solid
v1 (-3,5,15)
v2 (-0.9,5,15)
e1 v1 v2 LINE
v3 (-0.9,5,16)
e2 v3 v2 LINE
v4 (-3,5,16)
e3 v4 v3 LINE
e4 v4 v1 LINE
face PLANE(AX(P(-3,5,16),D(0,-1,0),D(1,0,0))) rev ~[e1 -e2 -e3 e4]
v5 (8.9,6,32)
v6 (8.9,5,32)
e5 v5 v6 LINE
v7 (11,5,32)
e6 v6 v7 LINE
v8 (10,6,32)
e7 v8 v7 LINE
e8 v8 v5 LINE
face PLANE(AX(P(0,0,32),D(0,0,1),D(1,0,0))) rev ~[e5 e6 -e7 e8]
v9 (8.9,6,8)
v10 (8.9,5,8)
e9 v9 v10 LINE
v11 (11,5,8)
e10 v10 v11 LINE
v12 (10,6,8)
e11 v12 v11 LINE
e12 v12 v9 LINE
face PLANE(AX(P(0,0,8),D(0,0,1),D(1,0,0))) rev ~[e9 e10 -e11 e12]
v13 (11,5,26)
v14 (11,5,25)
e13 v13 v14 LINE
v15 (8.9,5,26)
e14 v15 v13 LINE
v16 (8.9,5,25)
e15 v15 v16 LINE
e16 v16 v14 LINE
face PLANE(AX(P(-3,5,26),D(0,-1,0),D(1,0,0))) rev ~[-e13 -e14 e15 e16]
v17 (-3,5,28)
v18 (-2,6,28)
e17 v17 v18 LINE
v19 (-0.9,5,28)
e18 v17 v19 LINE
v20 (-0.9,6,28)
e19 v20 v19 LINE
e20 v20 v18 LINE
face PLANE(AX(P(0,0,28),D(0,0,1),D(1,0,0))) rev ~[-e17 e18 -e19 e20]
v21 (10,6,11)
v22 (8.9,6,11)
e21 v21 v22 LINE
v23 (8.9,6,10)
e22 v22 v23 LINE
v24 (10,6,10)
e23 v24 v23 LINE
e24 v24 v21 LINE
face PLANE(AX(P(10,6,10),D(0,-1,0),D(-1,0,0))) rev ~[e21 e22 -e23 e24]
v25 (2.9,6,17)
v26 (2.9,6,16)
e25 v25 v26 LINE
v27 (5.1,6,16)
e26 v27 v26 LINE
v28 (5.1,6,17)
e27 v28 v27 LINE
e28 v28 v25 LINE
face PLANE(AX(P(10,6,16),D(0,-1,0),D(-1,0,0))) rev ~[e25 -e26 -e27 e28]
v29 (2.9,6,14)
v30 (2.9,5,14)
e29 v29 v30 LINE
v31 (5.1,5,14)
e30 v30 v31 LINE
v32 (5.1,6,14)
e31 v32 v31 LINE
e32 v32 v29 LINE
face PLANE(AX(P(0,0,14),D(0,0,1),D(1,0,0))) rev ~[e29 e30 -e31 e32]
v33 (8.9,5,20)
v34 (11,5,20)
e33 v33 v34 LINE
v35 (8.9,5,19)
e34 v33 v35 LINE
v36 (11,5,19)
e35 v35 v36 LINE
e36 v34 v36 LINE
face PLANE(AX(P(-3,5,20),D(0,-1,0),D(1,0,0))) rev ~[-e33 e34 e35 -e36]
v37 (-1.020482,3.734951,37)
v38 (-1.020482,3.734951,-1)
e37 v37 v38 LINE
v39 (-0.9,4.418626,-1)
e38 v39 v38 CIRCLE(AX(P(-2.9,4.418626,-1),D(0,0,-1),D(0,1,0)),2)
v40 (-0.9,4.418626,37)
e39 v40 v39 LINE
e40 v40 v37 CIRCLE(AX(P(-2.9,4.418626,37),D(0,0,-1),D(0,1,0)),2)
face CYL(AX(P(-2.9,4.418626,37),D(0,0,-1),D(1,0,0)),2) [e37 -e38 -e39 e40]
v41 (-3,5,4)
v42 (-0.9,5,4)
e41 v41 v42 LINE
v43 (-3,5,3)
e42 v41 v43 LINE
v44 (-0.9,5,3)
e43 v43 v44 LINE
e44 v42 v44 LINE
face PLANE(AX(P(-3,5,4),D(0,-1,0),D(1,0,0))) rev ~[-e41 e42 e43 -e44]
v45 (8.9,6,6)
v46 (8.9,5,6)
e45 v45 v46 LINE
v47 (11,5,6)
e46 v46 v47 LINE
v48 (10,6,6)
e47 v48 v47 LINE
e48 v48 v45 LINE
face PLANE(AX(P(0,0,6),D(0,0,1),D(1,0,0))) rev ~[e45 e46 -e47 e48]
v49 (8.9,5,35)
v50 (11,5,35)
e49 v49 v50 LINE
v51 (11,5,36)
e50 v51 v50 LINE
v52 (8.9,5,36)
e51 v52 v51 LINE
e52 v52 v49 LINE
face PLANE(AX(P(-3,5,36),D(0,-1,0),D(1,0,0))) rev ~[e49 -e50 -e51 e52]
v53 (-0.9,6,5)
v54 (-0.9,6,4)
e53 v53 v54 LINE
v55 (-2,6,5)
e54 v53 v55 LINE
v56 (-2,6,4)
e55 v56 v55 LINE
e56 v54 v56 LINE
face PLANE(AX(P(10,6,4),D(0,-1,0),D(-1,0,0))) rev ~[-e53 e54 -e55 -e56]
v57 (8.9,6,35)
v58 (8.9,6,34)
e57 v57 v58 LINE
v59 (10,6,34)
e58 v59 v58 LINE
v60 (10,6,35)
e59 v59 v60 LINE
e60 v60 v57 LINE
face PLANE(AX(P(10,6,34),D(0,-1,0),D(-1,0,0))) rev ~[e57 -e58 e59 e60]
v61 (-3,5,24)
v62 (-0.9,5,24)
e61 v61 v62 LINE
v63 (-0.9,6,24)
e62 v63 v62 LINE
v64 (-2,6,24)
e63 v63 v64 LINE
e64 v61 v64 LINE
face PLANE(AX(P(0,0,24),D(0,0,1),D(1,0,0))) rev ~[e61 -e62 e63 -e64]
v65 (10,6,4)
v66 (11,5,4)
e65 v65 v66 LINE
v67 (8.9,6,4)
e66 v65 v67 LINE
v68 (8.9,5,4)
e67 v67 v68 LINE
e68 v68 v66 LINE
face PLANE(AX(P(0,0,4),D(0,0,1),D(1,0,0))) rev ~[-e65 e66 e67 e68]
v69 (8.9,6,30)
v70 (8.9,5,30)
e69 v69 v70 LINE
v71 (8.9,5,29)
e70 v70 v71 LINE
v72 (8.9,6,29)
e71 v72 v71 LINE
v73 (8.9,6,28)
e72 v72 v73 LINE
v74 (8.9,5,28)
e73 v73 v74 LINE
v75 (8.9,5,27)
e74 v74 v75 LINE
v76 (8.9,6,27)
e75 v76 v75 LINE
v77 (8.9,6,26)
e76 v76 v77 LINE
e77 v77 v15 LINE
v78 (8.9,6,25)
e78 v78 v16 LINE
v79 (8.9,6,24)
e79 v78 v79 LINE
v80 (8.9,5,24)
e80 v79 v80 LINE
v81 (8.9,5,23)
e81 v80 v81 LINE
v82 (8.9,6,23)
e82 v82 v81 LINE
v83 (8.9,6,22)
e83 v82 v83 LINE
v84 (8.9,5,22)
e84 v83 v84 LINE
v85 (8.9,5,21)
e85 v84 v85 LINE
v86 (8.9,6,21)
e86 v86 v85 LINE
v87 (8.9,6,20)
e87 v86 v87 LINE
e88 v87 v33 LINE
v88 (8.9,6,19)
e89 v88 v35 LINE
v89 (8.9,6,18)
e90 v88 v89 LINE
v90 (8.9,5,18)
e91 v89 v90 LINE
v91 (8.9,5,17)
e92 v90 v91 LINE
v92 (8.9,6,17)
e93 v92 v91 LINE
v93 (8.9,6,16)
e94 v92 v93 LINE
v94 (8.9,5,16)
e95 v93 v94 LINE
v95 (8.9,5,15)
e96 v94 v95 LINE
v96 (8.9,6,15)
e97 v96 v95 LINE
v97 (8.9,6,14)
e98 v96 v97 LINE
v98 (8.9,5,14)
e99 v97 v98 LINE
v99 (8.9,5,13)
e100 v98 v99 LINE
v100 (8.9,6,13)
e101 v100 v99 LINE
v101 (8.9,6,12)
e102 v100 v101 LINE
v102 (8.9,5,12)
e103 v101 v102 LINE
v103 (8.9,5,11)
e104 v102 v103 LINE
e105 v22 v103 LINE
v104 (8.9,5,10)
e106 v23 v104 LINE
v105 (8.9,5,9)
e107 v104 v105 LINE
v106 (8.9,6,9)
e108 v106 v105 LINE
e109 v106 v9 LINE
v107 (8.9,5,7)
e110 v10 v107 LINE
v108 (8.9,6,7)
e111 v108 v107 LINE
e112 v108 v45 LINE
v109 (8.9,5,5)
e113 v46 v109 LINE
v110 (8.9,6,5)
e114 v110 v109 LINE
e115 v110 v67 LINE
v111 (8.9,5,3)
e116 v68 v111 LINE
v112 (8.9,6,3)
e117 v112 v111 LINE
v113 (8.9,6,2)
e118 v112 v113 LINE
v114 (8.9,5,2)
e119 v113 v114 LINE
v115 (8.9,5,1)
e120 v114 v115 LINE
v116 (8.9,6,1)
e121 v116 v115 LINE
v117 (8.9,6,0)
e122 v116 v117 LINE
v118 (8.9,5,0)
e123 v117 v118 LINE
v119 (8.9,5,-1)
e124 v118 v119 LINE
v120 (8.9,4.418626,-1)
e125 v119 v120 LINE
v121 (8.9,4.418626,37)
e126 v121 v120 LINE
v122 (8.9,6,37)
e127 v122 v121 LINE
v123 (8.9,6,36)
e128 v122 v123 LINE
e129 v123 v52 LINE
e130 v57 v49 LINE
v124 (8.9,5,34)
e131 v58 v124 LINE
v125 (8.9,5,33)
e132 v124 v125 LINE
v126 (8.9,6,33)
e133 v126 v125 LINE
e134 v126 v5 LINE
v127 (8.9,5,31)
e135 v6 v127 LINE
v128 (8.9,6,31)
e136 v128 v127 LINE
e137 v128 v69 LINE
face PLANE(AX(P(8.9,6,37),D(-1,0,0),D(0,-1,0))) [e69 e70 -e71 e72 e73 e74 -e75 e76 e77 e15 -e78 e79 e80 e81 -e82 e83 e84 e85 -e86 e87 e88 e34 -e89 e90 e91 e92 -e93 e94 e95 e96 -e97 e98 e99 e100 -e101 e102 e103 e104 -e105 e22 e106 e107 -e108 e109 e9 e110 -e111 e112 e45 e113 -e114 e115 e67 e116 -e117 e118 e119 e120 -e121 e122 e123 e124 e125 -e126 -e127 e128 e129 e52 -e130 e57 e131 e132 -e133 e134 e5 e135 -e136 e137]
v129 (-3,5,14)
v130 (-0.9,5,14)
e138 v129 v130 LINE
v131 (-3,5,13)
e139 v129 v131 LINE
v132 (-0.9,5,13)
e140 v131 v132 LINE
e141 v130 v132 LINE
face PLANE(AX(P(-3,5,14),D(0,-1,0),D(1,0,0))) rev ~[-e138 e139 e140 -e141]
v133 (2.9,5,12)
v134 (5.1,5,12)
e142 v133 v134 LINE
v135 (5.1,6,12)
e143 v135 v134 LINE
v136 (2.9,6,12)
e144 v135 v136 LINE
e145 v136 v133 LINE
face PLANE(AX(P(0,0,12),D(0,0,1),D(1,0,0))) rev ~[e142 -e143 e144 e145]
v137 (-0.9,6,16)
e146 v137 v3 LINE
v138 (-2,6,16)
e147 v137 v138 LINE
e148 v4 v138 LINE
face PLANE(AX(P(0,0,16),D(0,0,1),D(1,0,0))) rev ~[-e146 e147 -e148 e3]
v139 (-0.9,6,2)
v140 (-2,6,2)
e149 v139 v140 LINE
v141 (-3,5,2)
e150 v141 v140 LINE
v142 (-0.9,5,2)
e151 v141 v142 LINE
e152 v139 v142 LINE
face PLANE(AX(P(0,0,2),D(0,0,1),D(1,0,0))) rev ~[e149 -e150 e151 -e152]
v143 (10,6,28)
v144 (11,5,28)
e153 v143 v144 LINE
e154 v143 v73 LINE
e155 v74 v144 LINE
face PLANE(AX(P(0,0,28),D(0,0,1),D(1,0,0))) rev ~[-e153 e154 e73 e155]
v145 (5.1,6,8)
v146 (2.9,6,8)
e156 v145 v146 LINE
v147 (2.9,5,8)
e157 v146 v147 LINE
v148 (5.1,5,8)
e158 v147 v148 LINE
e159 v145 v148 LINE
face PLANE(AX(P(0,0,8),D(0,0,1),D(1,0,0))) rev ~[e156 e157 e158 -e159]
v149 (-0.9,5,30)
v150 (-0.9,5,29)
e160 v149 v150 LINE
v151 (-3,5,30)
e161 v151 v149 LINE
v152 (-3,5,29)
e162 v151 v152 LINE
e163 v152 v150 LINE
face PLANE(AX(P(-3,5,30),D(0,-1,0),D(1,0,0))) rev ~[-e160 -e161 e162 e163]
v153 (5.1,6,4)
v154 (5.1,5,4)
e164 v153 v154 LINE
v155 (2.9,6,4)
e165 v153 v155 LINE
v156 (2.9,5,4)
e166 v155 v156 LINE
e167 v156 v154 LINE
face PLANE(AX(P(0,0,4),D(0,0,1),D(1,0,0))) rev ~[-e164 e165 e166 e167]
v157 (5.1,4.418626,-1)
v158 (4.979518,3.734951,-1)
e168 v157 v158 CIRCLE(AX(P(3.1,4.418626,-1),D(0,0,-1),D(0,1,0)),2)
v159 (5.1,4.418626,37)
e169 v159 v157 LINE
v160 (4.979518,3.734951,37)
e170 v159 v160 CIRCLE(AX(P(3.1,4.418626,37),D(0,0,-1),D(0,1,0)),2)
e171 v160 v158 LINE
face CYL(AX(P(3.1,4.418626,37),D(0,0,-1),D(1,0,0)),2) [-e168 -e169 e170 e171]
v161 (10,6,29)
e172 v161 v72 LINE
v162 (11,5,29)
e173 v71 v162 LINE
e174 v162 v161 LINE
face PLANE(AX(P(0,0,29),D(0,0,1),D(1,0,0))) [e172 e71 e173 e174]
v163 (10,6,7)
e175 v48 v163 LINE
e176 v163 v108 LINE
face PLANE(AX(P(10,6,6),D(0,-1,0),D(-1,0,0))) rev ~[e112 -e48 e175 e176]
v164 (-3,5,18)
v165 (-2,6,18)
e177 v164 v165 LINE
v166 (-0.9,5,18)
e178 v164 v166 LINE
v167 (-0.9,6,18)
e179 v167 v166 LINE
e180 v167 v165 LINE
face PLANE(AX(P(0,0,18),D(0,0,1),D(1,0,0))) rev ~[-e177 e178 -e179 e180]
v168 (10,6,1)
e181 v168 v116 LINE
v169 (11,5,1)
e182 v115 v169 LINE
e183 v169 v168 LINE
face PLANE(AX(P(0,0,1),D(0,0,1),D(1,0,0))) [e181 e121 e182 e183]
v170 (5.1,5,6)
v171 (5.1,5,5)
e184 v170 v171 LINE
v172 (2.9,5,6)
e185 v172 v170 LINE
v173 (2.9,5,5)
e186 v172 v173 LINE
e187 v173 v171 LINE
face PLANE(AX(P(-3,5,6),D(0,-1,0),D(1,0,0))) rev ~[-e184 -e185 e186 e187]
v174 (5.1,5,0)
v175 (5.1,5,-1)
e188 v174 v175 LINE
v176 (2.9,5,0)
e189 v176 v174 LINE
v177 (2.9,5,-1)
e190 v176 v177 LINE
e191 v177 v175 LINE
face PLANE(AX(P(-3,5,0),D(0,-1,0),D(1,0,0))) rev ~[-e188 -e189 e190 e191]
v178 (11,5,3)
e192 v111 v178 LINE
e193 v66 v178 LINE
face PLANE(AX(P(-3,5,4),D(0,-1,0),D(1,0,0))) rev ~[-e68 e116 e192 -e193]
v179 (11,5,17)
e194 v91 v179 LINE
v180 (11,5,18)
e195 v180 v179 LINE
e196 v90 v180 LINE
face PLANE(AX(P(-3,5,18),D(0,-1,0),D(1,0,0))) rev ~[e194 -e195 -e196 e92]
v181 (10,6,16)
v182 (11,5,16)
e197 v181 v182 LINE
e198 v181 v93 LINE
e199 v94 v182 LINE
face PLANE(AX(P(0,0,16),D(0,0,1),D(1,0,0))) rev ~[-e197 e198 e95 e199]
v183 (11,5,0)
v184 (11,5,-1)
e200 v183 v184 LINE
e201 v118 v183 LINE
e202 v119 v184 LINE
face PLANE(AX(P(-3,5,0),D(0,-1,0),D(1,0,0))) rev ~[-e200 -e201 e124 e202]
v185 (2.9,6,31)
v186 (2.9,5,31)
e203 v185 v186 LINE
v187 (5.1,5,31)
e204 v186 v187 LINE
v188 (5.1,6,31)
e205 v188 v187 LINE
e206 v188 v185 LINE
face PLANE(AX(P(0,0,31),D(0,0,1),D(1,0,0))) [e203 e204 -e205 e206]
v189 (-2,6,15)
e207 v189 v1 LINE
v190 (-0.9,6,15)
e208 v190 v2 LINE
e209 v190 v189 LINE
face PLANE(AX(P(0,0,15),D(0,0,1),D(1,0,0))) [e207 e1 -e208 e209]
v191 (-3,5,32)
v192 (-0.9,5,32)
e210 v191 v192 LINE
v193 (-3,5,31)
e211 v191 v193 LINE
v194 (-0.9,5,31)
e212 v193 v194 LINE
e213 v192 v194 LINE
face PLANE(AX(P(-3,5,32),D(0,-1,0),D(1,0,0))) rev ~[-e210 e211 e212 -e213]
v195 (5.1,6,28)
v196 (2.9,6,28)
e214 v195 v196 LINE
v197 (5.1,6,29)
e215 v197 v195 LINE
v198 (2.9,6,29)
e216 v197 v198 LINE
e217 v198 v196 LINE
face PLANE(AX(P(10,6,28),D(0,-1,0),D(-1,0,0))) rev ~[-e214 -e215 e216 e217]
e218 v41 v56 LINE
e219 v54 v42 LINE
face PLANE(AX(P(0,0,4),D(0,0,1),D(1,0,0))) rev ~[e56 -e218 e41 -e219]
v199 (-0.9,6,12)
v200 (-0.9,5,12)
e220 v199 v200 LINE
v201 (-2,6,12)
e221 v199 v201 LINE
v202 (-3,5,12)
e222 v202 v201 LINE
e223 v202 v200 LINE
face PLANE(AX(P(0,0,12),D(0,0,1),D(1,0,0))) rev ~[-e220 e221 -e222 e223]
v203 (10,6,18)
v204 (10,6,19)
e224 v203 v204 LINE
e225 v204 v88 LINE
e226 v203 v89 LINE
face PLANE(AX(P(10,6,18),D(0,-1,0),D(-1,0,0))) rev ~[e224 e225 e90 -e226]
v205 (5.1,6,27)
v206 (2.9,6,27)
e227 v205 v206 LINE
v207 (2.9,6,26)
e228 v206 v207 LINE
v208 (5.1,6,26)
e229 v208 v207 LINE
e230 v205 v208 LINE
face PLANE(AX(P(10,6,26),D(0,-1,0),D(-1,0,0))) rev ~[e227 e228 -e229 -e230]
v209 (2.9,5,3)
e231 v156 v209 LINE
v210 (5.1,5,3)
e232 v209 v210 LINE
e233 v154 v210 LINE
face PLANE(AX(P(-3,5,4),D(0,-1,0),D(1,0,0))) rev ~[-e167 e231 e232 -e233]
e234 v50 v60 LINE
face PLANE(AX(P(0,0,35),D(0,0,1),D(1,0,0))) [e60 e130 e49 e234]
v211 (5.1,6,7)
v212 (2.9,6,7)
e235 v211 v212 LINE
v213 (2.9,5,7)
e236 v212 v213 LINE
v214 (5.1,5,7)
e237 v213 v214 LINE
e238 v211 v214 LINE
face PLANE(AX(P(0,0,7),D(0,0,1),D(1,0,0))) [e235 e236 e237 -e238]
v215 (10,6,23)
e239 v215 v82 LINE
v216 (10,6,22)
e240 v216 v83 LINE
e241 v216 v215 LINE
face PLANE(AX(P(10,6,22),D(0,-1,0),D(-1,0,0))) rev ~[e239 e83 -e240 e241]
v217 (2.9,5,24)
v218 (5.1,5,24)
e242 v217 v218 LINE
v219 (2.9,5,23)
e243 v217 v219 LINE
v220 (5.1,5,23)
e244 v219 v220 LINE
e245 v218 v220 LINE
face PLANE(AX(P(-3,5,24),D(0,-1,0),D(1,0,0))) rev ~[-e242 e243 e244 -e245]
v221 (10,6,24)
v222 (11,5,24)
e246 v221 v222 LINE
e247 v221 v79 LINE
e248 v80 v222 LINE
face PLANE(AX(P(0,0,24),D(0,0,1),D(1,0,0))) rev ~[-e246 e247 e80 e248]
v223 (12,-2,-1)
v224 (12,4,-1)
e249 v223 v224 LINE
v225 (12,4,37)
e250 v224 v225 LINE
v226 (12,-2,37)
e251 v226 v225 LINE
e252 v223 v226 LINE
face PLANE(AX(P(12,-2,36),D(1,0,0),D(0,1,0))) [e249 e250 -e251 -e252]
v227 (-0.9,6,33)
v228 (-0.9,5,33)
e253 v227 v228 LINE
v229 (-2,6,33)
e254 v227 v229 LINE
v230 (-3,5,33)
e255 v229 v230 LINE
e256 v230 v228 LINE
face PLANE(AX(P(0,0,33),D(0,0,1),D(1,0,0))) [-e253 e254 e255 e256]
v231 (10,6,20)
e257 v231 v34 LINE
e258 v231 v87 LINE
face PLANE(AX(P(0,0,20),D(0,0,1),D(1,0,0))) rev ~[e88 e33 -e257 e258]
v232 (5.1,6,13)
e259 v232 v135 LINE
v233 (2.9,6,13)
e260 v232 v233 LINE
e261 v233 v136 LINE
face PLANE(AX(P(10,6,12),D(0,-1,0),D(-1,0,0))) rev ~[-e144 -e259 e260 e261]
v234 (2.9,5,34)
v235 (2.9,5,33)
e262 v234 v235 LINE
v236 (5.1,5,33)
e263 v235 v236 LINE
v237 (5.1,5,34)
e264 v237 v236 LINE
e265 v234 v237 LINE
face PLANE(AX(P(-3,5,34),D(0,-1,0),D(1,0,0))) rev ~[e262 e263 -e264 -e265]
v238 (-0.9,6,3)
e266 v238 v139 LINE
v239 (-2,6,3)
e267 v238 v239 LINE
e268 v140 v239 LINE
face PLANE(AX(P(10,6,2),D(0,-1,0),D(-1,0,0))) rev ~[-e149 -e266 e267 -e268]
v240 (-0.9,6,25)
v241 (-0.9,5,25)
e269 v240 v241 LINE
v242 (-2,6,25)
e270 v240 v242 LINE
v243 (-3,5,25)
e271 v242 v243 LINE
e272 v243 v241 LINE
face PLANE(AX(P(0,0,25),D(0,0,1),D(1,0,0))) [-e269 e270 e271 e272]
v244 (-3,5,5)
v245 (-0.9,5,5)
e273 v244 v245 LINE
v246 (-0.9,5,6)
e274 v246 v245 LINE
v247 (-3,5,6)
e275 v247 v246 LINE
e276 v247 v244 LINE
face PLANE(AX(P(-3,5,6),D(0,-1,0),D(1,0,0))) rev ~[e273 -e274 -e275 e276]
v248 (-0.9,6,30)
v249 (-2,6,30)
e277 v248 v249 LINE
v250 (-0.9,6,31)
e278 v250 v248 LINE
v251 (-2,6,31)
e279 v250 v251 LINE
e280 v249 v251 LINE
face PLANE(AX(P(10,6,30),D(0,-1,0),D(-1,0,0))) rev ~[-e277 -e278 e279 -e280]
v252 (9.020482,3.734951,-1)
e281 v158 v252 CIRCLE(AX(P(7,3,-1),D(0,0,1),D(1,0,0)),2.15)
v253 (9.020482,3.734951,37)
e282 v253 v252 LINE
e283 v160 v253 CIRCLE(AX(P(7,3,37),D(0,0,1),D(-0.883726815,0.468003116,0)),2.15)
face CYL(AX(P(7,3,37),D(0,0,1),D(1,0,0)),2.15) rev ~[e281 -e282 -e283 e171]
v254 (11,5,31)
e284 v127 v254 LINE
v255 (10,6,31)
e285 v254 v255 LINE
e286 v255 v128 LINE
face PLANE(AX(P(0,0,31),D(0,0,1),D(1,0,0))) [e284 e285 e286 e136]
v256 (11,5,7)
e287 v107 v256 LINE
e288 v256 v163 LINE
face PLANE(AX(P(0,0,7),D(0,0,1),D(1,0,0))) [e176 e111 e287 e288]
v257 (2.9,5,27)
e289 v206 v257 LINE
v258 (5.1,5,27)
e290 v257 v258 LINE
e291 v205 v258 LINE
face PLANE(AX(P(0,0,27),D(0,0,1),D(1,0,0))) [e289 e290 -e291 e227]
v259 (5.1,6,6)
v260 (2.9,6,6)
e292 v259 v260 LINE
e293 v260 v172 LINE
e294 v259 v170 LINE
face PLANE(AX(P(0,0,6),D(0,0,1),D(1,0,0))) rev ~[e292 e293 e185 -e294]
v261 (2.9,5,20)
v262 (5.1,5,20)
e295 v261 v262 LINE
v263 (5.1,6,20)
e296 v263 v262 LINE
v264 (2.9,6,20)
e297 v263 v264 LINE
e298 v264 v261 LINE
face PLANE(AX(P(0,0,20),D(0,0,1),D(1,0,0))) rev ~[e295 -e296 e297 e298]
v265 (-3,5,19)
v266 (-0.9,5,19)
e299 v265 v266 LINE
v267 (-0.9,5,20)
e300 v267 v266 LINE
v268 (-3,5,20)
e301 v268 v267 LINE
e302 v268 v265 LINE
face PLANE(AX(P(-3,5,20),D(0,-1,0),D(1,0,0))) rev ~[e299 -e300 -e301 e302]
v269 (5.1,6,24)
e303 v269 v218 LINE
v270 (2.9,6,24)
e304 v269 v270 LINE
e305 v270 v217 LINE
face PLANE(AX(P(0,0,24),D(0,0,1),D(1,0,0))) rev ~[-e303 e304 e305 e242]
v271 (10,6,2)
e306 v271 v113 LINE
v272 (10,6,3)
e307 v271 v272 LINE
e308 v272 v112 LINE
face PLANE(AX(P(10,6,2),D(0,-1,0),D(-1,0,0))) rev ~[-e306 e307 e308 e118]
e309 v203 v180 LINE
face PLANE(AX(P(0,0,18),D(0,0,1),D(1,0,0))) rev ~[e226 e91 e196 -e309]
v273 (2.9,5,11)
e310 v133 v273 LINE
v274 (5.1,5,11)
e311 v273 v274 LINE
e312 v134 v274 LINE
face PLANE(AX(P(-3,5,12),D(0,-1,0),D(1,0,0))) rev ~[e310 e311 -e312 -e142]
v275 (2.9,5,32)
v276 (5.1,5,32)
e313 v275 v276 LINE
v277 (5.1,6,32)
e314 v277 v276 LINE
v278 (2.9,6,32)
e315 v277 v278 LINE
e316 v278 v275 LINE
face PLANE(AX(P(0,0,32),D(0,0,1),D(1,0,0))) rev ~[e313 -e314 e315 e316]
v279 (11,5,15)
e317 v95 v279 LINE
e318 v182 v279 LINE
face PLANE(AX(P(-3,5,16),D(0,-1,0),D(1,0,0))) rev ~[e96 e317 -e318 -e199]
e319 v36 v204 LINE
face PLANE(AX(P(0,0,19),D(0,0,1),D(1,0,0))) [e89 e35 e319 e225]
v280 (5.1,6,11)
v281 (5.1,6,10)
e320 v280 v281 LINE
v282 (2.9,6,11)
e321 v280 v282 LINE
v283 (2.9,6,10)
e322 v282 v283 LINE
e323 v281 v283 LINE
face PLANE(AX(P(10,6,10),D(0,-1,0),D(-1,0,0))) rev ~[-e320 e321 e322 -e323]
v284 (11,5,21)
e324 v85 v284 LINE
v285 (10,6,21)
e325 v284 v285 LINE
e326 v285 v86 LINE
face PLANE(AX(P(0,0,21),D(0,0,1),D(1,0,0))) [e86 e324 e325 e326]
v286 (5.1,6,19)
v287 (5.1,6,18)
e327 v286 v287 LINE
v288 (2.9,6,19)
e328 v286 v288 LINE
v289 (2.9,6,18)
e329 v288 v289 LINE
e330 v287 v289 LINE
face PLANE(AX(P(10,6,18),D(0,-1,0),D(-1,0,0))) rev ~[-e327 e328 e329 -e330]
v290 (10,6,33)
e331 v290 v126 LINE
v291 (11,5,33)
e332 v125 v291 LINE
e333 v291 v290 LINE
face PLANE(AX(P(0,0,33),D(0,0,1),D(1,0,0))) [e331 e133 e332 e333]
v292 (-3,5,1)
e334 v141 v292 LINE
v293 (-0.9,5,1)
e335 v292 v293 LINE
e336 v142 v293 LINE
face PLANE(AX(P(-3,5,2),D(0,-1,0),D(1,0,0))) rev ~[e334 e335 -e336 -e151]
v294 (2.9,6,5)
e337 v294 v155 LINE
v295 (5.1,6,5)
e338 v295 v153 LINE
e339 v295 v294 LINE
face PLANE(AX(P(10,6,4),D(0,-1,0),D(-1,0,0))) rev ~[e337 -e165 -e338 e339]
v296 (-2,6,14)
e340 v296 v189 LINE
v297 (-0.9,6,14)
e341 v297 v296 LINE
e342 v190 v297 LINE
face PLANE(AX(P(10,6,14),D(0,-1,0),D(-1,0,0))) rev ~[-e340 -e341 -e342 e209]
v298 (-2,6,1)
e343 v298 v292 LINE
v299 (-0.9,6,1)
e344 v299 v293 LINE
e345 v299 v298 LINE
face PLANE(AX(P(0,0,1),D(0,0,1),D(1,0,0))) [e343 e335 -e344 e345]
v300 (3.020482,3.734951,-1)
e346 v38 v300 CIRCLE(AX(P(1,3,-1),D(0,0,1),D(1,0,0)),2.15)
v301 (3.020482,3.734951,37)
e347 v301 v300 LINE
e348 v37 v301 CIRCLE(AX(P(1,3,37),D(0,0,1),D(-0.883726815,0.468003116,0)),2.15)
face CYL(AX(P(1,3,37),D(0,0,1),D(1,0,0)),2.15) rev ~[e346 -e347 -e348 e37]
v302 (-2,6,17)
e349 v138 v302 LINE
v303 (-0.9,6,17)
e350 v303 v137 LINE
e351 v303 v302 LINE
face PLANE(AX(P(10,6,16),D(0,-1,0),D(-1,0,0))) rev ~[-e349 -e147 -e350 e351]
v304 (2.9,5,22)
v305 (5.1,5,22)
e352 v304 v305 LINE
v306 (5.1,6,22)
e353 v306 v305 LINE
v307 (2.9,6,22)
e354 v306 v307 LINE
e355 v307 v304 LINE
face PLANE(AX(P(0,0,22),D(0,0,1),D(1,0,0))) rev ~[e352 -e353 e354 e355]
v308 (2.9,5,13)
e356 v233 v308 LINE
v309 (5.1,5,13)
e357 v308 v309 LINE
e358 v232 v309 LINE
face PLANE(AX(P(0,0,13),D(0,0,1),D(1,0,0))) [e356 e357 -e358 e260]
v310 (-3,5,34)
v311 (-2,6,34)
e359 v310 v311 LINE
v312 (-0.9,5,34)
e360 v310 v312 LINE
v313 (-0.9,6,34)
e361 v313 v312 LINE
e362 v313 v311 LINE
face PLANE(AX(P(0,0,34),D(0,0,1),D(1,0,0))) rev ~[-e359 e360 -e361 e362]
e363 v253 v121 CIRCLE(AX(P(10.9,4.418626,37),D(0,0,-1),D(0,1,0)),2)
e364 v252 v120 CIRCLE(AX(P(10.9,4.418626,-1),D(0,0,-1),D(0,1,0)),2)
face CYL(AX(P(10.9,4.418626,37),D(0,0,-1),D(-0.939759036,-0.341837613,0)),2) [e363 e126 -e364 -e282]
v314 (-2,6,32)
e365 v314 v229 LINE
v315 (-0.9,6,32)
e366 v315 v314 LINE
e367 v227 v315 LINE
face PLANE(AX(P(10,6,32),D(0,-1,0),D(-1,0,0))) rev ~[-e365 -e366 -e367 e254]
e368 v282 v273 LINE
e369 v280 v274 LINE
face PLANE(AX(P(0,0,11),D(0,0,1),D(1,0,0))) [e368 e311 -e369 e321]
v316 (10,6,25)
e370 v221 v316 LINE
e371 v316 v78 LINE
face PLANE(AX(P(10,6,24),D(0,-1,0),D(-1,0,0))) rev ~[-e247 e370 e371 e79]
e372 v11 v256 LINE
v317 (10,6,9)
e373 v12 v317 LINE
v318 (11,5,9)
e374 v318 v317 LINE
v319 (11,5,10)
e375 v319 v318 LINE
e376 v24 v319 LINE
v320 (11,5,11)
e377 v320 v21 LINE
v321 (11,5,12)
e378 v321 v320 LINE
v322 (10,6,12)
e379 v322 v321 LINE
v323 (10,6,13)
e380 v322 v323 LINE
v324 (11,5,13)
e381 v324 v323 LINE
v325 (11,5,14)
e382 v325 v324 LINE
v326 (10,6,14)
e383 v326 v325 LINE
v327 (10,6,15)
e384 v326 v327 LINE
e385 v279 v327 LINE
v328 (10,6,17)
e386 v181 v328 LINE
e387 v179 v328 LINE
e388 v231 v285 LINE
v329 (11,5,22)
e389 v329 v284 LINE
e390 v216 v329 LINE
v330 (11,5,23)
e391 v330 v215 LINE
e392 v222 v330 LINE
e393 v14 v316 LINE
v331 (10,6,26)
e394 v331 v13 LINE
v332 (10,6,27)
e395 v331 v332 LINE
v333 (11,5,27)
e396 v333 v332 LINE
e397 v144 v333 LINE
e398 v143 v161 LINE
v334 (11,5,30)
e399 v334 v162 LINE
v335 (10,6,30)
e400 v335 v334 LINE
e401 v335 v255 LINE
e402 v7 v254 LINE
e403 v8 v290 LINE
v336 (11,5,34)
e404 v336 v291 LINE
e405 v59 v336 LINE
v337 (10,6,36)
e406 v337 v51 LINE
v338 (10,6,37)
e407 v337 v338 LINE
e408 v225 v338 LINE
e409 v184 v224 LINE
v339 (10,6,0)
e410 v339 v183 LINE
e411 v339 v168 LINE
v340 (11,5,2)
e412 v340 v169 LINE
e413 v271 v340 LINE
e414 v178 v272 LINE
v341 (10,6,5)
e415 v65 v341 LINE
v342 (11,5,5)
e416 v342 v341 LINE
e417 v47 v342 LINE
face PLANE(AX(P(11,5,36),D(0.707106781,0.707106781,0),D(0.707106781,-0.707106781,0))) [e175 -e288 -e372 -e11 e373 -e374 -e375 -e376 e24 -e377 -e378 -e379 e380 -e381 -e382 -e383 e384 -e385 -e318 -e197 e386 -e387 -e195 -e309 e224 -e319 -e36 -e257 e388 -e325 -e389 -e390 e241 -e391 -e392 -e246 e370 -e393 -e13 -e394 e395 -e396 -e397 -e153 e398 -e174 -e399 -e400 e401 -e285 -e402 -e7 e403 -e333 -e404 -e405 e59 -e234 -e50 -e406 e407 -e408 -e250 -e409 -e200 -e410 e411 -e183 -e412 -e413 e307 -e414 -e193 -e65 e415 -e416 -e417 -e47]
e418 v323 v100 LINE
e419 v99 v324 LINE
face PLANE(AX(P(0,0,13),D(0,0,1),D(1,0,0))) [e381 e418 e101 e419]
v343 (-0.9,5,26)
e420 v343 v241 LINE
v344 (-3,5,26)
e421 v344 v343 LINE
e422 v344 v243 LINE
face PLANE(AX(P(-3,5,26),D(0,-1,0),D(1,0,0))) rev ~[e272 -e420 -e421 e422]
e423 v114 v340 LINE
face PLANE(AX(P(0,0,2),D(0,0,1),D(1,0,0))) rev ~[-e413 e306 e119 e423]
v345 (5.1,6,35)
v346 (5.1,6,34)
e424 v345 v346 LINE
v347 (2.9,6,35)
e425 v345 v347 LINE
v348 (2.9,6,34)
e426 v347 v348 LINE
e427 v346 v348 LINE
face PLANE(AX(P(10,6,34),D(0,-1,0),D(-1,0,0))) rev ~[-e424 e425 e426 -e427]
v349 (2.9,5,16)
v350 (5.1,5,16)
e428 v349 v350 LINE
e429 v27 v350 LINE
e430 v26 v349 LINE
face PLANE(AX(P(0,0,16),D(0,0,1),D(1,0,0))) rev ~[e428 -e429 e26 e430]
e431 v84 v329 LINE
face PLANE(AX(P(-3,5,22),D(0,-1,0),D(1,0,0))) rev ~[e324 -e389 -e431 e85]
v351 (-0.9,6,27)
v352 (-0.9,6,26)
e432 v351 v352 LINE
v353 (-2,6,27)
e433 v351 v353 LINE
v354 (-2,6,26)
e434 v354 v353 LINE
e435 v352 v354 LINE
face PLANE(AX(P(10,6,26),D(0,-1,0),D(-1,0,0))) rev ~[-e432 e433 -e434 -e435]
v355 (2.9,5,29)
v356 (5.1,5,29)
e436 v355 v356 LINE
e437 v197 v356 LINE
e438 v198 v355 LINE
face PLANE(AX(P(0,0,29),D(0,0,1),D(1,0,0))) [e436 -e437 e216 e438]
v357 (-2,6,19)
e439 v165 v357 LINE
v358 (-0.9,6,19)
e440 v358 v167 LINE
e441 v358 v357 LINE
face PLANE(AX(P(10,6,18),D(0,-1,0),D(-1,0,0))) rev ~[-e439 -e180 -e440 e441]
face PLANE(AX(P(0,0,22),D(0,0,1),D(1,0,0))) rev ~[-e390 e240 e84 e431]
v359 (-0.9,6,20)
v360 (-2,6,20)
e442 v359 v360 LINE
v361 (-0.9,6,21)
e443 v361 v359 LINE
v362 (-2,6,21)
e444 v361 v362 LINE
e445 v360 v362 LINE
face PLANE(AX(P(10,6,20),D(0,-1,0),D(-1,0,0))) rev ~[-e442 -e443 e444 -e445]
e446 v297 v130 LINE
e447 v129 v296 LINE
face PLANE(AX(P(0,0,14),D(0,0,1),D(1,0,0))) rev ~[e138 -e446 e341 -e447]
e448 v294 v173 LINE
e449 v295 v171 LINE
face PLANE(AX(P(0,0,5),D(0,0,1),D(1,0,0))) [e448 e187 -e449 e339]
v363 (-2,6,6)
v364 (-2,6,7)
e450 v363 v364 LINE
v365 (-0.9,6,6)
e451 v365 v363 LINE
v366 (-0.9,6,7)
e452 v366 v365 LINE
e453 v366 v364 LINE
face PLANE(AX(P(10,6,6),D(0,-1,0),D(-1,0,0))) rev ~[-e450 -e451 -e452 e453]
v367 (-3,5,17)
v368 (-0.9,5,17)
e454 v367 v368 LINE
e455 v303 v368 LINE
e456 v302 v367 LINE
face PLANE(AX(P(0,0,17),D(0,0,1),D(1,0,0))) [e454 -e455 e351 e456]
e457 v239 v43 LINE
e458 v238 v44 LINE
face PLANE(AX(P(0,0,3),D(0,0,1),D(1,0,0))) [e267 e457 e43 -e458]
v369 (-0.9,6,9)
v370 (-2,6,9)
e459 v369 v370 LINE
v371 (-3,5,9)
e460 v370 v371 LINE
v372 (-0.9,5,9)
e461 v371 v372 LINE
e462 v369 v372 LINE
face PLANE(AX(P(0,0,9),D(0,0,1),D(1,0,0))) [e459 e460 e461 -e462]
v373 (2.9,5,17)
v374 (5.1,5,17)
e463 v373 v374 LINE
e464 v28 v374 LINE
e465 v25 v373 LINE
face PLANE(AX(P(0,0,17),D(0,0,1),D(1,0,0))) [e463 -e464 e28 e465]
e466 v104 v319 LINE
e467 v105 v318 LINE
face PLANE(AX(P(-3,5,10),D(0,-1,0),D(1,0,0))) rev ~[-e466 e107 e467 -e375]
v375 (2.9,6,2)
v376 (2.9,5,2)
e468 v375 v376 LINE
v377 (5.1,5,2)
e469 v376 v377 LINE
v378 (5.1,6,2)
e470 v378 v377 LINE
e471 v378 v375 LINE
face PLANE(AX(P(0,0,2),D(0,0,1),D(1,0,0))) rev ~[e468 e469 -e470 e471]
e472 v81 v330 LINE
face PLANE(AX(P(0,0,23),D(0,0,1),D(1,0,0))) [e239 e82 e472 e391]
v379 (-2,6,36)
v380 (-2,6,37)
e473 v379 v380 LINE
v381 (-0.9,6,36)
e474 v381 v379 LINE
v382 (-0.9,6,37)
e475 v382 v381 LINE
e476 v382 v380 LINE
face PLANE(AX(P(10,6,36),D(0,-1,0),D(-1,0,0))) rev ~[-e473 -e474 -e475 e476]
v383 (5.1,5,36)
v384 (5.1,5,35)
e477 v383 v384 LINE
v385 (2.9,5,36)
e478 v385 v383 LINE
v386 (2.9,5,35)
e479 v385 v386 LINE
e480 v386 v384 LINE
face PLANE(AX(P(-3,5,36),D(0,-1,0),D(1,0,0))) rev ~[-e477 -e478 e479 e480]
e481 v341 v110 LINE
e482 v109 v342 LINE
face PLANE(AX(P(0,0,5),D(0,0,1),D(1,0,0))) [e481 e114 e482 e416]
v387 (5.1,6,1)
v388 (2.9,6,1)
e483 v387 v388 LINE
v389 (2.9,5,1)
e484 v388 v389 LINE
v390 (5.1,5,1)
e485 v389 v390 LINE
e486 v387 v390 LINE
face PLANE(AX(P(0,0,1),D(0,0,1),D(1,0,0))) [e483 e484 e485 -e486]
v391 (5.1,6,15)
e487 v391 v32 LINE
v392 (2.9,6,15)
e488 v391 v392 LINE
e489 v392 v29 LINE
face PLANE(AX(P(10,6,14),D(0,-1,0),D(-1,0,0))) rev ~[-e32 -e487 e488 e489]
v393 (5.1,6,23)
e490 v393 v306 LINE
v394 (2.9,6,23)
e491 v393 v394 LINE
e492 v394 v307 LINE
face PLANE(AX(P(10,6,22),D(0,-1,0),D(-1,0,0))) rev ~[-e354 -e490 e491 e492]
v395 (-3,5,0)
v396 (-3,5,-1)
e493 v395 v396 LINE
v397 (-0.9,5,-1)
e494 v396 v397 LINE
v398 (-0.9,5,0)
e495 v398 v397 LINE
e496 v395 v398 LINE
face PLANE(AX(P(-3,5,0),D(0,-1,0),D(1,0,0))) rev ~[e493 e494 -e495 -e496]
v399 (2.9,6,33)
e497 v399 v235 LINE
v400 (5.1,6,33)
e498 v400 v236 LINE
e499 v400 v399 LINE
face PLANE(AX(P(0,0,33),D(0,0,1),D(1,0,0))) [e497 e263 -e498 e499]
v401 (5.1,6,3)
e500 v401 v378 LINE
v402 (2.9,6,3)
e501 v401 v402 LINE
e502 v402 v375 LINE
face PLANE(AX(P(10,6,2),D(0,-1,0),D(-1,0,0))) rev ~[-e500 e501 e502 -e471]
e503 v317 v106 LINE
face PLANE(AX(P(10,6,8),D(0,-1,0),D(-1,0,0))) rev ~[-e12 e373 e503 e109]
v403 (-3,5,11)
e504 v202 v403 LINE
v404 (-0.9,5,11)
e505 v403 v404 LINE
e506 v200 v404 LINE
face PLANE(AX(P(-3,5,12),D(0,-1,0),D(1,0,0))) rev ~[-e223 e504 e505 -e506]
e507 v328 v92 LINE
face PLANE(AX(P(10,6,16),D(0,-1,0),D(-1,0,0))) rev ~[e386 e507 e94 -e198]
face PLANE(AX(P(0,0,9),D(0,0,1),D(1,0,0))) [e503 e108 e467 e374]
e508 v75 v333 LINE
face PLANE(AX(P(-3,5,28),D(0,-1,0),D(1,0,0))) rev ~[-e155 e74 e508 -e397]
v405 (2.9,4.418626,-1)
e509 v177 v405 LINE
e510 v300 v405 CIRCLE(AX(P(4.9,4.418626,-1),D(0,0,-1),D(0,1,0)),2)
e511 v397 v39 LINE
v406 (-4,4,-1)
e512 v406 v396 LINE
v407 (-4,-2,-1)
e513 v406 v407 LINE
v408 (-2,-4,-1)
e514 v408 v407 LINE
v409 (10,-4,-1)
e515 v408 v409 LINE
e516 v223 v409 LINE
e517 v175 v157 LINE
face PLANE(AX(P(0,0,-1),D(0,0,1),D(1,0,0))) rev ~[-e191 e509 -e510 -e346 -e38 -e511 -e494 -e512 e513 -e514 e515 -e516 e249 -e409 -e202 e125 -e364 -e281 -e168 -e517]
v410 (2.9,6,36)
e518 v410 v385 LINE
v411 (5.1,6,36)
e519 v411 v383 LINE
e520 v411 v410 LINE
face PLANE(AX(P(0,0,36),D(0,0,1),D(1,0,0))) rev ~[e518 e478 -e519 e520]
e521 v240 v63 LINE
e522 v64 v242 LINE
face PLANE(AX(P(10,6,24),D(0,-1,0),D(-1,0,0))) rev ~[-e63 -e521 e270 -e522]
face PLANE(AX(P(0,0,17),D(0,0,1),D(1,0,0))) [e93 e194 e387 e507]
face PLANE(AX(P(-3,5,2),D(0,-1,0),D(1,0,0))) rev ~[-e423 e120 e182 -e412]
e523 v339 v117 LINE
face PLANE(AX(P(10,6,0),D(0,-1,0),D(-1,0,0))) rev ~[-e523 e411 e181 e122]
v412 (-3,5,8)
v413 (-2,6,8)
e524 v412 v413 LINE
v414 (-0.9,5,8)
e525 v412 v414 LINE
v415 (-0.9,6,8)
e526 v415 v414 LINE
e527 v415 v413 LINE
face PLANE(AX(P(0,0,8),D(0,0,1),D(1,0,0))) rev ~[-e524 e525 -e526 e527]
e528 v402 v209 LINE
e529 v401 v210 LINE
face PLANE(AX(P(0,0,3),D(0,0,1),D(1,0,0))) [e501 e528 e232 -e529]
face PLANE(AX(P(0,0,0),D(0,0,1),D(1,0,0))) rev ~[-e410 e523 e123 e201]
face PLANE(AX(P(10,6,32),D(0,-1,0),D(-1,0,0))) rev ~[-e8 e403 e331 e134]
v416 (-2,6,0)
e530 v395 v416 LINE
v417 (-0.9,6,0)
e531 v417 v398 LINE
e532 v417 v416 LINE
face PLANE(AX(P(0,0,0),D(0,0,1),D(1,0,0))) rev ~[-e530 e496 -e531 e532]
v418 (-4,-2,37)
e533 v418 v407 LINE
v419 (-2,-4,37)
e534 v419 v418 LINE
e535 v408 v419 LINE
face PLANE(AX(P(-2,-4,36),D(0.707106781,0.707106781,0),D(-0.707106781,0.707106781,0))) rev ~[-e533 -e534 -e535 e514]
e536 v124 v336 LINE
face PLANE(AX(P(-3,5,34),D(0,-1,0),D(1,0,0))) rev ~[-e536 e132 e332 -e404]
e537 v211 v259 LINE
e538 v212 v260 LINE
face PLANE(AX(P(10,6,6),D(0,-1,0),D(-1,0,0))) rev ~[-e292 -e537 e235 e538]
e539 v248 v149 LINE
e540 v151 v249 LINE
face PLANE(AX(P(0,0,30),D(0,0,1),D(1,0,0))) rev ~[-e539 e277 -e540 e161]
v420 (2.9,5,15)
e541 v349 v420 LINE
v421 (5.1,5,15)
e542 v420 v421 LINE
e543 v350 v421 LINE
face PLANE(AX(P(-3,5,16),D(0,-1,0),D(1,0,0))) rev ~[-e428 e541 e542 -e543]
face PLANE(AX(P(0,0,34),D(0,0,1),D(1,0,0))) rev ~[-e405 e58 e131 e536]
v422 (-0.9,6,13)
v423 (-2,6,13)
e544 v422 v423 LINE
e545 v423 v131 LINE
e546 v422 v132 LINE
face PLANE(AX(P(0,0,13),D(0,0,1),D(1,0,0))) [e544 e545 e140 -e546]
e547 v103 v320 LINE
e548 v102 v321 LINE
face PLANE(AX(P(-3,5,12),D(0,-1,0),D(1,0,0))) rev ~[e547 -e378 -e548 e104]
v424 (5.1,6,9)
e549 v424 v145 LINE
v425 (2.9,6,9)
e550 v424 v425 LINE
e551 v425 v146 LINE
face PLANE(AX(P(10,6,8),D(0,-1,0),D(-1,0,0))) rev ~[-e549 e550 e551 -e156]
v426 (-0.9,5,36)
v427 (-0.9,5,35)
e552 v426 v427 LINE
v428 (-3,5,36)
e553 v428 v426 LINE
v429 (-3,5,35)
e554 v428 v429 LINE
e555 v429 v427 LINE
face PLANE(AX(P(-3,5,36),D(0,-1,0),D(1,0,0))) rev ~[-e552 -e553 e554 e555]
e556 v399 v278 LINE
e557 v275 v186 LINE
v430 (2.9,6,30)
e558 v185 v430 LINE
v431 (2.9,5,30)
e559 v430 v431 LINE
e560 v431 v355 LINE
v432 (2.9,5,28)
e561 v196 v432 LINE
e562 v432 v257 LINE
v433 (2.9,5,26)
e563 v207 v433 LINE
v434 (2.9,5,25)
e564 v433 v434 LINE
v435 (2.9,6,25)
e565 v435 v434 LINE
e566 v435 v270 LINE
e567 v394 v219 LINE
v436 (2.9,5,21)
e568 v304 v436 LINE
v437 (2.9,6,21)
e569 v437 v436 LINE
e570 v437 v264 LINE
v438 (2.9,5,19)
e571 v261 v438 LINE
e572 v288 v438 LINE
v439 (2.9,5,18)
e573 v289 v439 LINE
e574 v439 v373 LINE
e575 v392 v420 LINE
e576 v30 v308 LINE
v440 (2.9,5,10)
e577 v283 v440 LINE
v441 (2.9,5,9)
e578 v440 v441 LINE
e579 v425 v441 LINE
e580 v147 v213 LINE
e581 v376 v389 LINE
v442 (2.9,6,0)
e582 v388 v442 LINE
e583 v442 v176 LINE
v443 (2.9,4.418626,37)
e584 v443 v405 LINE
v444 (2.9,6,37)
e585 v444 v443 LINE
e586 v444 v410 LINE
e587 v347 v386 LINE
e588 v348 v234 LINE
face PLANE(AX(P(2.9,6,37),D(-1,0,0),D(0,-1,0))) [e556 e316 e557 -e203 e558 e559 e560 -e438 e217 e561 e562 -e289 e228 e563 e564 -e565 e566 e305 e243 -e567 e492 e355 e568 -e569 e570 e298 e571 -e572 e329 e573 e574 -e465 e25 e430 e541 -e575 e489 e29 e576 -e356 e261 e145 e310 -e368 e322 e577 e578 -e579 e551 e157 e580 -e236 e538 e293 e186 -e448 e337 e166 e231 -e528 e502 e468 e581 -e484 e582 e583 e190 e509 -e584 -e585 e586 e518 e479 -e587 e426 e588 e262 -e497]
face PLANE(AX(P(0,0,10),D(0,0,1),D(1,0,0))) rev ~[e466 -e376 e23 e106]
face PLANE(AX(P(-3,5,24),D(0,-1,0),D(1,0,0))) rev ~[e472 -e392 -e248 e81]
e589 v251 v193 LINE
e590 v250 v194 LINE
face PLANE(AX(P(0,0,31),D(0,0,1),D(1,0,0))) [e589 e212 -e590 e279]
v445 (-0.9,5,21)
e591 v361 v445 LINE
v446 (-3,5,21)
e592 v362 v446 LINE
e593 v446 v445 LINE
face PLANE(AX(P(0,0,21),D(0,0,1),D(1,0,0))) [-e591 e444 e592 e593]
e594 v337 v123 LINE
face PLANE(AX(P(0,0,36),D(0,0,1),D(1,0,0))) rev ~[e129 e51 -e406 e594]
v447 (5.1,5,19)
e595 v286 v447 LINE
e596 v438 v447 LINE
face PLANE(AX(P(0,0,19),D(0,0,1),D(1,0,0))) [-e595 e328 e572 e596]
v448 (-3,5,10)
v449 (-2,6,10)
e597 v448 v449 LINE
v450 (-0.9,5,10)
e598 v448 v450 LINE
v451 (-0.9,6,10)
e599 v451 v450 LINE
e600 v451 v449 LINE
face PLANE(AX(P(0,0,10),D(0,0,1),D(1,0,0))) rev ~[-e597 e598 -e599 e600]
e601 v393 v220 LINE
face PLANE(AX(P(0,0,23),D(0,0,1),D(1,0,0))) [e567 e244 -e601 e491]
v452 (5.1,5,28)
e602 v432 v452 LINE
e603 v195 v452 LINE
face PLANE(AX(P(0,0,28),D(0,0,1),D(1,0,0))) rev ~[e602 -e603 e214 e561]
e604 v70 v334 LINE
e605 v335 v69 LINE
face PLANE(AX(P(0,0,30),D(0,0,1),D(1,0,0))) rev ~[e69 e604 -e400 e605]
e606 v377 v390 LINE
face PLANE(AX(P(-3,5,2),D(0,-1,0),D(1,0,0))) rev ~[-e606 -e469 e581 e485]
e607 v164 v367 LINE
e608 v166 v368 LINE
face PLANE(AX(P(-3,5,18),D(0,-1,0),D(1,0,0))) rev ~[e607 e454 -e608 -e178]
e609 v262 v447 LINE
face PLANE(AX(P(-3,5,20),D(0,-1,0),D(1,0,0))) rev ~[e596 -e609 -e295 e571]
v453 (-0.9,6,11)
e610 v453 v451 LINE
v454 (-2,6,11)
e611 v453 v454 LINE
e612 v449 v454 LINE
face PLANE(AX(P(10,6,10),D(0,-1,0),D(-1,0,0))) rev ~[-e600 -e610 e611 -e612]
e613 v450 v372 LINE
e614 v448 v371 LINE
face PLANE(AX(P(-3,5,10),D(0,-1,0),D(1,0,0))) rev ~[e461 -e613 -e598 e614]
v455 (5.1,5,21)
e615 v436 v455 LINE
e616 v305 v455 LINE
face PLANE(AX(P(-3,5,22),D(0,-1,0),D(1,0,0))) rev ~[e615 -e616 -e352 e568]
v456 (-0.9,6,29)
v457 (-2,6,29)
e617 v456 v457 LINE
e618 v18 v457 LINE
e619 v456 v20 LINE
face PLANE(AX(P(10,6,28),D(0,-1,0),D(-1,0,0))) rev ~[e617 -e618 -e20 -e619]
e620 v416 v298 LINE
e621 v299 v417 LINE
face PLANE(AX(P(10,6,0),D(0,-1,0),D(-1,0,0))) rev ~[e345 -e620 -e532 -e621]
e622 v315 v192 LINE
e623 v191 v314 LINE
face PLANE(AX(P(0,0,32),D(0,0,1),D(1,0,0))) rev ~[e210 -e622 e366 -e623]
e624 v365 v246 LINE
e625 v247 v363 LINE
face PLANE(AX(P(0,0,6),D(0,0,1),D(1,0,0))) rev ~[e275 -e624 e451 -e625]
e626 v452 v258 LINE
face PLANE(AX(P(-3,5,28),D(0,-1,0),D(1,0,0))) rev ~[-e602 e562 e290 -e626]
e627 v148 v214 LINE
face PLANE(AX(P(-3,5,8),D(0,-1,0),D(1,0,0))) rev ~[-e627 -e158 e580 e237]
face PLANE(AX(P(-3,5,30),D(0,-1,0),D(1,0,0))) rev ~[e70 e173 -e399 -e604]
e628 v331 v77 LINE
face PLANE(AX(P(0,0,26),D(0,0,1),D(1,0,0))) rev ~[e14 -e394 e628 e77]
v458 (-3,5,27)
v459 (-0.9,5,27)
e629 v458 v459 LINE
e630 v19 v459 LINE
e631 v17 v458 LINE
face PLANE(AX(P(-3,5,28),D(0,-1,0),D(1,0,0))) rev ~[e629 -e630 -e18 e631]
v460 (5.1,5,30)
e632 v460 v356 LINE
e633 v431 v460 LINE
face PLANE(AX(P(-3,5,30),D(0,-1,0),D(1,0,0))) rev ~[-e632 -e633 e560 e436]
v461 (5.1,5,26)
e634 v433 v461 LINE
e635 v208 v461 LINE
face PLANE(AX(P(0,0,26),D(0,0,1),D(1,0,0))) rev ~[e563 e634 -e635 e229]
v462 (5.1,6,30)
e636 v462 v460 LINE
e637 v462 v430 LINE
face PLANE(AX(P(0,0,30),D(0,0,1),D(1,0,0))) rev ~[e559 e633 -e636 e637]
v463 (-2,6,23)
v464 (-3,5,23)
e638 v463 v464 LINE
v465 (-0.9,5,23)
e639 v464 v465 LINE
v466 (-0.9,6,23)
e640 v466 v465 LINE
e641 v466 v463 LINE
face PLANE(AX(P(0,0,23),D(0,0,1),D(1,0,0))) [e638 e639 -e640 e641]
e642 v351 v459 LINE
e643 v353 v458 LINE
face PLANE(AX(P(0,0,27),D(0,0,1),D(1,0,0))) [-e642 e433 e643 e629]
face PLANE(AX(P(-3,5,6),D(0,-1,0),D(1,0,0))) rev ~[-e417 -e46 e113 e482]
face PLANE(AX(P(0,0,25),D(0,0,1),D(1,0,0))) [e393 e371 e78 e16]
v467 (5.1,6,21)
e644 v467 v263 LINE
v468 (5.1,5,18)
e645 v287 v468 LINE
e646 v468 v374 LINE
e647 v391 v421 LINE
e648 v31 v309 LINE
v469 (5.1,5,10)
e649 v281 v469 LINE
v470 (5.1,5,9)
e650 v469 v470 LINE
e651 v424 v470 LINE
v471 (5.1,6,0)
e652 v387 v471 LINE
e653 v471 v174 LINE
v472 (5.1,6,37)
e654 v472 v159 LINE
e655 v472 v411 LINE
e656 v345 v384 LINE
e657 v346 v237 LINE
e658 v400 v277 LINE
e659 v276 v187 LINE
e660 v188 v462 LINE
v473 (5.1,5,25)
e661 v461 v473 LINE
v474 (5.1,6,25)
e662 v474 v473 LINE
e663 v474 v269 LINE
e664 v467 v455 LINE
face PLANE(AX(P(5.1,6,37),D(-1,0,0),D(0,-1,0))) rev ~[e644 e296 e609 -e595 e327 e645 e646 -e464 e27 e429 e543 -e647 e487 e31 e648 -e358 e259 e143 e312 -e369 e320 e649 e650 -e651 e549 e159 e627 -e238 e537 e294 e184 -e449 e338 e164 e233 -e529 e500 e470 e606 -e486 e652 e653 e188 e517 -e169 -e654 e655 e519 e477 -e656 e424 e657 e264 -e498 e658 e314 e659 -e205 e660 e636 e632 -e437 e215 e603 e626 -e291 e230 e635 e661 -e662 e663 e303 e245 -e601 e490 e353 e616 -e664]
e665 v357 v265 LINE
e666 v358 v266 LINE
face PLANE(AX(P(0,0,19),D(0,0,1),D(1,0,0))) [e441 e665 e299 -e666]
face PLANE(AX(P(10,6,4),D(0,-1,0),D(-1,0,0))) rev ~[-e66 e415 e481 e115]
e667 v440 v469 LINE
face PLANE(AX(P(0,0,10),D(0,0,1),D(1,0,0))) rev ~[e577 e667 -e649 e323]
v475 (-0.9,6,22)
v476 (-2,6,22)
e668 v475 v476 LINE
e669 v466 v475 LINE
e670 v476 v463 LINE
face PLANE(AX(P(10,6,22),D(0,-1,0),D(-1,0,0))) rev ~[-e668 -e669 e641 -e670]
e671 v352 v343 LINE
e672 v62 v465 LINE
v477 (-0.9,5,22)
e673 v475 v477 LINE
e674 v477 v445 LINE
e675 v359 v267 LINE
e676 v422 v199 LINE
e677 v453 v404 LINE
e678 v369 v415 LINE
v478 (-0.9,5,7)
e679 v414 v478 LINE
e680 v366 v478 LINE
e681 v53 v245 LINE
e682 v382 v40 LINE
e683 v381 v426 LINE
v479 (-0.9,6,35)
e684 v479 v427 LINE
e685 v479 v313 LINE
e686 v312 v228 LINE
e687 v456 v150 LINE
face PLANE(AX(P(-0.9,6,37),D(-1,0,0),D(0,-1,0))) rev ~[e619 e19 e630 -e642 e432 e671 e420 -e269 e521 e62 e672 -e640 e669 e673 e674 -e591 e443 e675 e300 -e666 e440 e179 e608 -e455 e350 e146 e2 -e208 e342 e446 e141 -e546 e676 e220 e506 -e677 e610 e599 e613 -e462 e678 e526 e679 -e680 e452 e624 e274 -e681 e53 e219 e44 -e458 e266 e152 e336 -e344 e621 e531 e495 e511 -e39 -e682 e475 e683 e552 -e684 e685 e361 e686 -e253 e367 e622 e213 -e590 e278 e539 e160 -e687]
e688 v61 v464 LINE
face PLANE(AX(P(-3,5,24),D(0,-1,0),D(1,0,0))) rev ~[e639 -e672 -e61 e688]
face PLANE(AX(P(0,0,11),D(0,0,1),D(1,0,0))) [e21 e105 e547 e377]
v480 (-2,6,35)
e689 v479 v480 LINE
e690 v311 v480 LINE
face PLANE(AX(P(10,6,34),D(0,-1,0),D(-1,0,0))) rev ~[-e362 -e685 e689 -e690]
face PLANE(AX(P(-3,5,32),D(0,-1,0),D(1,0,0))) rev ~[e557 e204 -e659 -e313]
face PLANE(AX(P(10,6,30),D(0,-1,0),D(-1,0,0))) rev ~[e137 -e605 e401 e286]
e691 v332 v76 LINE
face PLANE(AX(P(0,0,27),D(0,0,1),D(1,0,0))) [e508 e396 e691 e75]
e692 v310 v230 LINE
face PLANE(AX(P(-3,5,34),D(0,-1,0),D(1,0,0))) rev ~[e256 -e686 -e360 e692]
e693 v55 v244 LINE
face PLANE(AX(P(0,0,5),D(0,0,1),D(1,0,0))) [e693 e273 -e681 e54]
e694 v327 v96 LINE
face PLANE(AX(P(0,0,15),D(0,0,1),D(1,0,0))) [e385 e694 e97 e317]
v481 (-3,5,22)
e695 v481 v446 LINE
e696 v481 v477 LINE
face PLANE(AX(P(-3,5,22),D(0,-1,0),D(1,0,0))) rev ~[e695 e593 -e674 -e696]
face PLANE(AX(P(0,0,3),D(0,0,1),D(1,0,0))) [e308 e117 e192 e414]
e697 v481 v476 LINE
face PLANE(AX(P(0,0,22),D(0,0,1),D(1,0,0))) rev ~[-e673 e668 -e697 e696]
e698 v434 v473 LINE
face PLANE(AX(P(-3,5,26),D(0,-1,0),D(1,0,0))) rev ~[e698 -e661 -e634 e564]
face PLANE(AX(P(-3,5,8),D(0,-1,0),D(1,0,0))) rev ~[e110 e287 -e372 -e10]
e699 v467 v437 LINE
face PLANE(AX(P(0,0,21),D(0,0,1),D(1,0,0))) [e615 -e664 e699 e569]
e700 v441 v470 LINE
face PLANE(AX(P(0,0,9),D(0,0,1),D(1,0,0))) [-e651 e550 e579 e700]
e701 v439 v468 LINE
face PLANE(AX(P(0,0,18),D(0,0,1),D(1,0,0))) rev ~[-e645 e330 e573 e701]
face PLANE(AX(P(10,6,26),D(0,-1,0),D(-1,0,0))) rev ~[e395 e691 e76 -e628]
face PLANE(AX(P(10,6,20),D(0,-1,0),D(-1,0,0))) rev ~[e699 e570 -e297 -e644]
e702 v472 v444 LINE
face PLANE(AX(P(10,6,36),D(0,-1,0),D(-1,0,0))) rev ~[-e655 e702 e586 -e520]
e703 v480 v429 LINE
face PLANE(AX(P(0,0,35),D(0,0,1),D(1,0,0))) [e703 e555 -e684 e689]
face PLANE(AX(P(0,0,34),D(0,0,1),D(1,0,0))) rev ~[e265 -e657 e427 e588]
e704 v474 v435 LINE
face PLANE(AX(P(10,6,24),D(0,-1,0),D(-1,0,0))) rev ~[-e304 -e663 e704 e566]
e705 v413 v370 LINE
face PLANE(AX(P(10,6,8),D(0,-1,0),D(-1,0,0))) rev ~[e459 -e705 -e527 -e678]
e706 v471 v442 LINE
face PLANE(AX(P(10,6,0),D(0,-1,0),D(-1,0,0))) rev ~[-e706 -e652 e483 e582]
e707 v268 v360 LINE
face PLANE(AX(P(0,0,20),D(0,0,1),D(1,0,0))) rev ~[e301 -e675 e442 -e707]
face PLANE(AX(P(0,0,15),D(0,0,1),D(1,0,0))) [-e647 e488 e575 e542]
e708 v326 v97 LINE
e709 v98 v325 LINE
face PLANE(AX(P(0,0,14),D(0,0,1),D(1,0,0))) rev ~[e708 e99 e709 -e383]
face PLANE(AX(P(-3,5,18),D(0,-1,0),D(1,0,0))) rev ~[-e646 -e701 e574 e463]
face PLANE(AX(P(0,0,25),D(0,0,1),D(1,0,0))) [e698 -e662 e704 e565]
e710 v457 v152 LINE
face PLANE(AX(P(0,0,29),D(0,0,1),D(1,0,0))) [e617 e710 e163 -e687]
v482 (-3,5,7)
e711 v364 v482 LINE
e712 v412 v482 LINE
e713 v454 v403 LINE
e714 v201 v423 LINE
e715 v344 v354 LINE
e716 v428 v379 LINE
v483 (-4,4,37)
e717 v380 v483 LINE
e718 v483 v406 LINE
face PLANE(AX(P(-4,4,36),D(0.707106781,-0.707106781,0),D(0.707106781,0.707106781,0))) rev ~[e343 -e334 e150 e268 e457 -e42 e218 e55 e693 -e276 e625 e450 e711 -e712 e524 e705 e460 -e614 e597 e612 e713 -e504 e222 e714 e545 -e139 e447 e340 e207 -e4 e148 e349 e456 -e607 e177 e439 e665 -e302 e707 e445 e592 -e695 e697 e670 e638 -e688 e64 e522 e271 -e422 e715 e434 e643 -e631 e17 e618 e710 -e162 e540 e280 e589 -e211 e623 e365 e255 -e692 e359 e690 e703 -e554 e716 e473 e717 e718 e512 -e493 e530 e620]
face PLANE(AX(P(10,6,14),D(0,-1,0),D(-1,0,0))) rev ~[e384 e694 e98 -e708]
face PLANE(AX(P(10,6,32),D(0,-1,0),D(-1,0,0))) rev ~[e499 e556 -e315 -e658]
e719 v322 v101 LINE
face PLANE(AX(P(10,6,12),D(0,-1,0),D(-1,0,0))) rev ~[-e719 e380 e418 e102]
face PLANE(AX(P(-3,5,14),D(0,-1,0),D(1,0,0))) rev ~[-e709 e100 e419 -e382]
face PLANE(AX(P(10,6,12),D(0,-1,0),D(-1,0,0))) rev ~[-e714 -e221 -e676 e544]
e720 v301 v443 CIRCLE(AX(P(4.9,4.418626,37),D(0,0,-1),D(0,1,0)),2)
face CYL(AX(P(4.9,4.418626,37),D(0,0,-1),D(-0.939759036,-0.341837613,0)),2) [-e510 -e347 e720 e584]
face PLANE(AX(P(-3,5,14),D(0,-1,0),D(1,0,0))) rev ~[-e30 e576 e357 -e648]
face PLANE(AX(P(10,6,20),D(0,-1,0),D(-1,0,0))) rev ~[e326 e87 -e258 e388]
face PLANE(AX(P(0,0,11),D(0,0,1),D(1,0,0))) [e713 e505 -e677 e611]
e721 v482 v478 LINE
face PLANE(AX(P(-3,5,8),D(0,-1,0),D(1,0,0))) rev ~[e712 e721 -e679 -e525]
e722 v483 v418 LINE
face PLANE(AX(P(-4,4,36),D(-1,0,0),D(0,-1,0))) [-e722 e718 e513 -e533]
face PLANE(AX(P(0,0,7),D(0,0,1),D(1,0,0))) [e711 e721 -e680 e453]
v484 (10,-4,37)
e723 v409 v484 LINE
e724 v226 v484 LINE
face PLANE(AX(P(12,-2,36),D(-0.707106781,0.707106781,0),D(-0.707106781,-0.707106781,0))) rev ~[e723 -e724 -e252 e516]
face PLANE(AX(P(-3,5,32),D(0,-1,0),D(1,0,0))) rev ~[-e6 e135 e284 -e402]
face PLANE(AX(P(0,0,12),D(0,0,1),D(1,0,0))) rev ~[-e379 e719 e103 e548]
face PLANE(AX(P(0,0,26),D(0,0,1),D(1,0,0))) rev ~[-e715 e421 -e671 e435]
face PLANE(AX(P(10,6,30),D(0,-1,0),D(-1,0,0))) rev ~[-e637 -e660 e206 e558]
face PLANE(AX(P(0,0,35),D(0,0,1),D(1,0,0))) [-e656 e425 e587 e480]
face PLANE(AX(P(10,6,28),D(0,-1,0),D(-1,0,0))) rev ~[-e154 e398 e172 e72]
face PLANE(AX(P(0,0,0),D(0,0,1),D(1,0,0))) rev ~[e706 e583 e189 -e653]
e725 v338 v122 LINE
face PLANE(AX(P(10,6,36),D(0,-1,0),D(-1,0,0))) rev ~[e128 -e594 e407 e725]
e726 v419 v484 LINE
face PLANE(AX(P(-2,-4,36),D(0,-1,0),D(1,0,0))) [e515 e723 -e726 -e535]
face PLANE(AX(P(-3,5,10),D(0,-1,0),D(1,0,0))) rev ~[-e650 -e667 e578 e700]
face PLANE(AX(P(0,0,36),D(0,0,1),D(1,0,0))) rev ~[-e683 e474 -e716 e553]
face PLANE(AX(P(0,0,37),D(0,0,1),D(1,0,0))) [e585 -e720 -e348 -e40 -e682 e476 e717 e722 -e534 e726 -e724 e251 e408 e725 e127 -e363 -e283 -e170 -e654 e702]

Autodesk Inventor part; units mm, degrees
ref_plane "YZ Plane" through (0, 0, 0) normal (1, 0, 0) x (0, 1, 0)
ref_plane "XZ Plane" through (0, 0, 0) normal (0, 1, 0) x (-1, 0, 0)
ref_plane "XY Plane" through (0, 0, 0) normal (0, 0, 1) x (1, 0, 0)
sketch "Sketch1" plane through (0, 0, 0) normal (0, 0, 1) x (1, 0, 0)
  line L0 (-2, -4) -> (10, -4)
  line L1 (12, -2) -> (12, 4)
  line L2 (10, 6) -> (-2, 6)
  line L3 (-4, 4) -> (-4, -2)
  line L4 (-4, 7.1505) -> (-4, 6)
  line L5 (12, 6) -> (12, 7.1505)
  line L6 (-4, 4) -> (-2, 6)
  line L7 (10, 6) -> (12, 4)
  line L8 (12, -2) -> (10, -4)
  line L9 (-2, -4) -> (-4, -2)
  line L10 (-3, 5) -> (11, 5)
  point P0 (-4, -4)
  point P1 (12, -4)
  dimension "d12" = 16
  dimension "d13" = 10
  dimension "d18" = 2
  dimension "d19" = 2
  dimension "d20" = 2
  dimension "d21" = 2
  dimension "d22" = 2
  dimension "d23" = 2
  dimension "d24" = 2
  dimension "d25" = 2
extrude "Extrusion1" add sketch "Sketch1" along normal blind 1
extrude "Extrusion2" add sketch "Sketch1" against normal blind 1 contours L9 L3 L6 L10 L7 L1 L8 L0
pattern_linear "Rectangular Pattern1" count 19 spacing 2 along (0, 0, 1) of "Extrusion1", "Extrusion2"
sketch "Sketch2" plane through (-2, -4, 37) normal (0, 0, 1) x (1, 0, 0)
  line L0 (0, 10) -> (-2, 8) projected
  line L1 (-2, 8) -> (-2, 2) projected
  line L2 (-2, 2) -> (0, 0) projected
  line L3 (0, 0) -> (12, 0) projected
  line L4 (12, 0) -> (14, 2) projected
  line L5 (14, 2) -> (14, 8) projected
  line L6 (14, 8) -> (12, 10) projected
  line L7 (12, 10) -> (0, 10) projected
  line L8 (0, 10) -> (12, 10)
  line L9 (6, 10) -> (8, 10)
  line L10 (6, 10) -> (0, 10)
  line L11 (3, 10) -> (3, 7)
  line L12 (3, 10) -> (6, 10) construction
  circle A0 centre (3, 7) radius 2.15
  line L13 (6, 10) -> (6, 0)
  line L14 (3, 10) -> (1.1, 10)
  line L15 (12, 10) -> (0, 10) projected
  line L16 (1.1, 10) -> (1.1, 8.0062)
  line L17 (1.1, 10) -> (4.9, 10)
  line L18 (4.9, 10) -> (4.9, 8.0062)
  line L19 (9, 10) -> (9, 7)
  circle A1 centre (9, 7) radius 2.15
  line L20 (10.9, 10) -> (10.9, 8.0062)
  line L21 (7.1, 10) -> (7.1, 8.0062)
  point P0 (2, 4)
  point P1 (9, 9.15)
  point P2 (4.9, 10)
  dimension "d39" = 3
  dimension "d40" = 90
  dimension "d41" = 4.3
  dimension "d42" = 1.9
  dimension "d43" = 3.8
extrude "Extrusion3" cut sketch "Sketch2" against normal through all contours L7 L11 A0 L16 | L7 L18 A0 L11 | A0 | L7 L19 A1 L21 | A1 | L7 L20 A1 L19
fillet "Fillet1" radius 2 4 edges at (-0.9, 4.0062, 18) (2.9, 4.0062, 18) (8.9, 4.0062, 18) (5.1, 4.0062, 18)
equation "\"d19\" = d18"
equation "\"d20\" = d18"
equation "\"d21\" = d20"
equation "\"d22\" = d18"
equation "\"d23\" = d22"
equation "\"d24\" = d18"
equation "\"d25\" = d24"
equation "\"d41\" = Schlauch"
equation "\"Schlauch\" = 4.3"
properties part number "Test"
